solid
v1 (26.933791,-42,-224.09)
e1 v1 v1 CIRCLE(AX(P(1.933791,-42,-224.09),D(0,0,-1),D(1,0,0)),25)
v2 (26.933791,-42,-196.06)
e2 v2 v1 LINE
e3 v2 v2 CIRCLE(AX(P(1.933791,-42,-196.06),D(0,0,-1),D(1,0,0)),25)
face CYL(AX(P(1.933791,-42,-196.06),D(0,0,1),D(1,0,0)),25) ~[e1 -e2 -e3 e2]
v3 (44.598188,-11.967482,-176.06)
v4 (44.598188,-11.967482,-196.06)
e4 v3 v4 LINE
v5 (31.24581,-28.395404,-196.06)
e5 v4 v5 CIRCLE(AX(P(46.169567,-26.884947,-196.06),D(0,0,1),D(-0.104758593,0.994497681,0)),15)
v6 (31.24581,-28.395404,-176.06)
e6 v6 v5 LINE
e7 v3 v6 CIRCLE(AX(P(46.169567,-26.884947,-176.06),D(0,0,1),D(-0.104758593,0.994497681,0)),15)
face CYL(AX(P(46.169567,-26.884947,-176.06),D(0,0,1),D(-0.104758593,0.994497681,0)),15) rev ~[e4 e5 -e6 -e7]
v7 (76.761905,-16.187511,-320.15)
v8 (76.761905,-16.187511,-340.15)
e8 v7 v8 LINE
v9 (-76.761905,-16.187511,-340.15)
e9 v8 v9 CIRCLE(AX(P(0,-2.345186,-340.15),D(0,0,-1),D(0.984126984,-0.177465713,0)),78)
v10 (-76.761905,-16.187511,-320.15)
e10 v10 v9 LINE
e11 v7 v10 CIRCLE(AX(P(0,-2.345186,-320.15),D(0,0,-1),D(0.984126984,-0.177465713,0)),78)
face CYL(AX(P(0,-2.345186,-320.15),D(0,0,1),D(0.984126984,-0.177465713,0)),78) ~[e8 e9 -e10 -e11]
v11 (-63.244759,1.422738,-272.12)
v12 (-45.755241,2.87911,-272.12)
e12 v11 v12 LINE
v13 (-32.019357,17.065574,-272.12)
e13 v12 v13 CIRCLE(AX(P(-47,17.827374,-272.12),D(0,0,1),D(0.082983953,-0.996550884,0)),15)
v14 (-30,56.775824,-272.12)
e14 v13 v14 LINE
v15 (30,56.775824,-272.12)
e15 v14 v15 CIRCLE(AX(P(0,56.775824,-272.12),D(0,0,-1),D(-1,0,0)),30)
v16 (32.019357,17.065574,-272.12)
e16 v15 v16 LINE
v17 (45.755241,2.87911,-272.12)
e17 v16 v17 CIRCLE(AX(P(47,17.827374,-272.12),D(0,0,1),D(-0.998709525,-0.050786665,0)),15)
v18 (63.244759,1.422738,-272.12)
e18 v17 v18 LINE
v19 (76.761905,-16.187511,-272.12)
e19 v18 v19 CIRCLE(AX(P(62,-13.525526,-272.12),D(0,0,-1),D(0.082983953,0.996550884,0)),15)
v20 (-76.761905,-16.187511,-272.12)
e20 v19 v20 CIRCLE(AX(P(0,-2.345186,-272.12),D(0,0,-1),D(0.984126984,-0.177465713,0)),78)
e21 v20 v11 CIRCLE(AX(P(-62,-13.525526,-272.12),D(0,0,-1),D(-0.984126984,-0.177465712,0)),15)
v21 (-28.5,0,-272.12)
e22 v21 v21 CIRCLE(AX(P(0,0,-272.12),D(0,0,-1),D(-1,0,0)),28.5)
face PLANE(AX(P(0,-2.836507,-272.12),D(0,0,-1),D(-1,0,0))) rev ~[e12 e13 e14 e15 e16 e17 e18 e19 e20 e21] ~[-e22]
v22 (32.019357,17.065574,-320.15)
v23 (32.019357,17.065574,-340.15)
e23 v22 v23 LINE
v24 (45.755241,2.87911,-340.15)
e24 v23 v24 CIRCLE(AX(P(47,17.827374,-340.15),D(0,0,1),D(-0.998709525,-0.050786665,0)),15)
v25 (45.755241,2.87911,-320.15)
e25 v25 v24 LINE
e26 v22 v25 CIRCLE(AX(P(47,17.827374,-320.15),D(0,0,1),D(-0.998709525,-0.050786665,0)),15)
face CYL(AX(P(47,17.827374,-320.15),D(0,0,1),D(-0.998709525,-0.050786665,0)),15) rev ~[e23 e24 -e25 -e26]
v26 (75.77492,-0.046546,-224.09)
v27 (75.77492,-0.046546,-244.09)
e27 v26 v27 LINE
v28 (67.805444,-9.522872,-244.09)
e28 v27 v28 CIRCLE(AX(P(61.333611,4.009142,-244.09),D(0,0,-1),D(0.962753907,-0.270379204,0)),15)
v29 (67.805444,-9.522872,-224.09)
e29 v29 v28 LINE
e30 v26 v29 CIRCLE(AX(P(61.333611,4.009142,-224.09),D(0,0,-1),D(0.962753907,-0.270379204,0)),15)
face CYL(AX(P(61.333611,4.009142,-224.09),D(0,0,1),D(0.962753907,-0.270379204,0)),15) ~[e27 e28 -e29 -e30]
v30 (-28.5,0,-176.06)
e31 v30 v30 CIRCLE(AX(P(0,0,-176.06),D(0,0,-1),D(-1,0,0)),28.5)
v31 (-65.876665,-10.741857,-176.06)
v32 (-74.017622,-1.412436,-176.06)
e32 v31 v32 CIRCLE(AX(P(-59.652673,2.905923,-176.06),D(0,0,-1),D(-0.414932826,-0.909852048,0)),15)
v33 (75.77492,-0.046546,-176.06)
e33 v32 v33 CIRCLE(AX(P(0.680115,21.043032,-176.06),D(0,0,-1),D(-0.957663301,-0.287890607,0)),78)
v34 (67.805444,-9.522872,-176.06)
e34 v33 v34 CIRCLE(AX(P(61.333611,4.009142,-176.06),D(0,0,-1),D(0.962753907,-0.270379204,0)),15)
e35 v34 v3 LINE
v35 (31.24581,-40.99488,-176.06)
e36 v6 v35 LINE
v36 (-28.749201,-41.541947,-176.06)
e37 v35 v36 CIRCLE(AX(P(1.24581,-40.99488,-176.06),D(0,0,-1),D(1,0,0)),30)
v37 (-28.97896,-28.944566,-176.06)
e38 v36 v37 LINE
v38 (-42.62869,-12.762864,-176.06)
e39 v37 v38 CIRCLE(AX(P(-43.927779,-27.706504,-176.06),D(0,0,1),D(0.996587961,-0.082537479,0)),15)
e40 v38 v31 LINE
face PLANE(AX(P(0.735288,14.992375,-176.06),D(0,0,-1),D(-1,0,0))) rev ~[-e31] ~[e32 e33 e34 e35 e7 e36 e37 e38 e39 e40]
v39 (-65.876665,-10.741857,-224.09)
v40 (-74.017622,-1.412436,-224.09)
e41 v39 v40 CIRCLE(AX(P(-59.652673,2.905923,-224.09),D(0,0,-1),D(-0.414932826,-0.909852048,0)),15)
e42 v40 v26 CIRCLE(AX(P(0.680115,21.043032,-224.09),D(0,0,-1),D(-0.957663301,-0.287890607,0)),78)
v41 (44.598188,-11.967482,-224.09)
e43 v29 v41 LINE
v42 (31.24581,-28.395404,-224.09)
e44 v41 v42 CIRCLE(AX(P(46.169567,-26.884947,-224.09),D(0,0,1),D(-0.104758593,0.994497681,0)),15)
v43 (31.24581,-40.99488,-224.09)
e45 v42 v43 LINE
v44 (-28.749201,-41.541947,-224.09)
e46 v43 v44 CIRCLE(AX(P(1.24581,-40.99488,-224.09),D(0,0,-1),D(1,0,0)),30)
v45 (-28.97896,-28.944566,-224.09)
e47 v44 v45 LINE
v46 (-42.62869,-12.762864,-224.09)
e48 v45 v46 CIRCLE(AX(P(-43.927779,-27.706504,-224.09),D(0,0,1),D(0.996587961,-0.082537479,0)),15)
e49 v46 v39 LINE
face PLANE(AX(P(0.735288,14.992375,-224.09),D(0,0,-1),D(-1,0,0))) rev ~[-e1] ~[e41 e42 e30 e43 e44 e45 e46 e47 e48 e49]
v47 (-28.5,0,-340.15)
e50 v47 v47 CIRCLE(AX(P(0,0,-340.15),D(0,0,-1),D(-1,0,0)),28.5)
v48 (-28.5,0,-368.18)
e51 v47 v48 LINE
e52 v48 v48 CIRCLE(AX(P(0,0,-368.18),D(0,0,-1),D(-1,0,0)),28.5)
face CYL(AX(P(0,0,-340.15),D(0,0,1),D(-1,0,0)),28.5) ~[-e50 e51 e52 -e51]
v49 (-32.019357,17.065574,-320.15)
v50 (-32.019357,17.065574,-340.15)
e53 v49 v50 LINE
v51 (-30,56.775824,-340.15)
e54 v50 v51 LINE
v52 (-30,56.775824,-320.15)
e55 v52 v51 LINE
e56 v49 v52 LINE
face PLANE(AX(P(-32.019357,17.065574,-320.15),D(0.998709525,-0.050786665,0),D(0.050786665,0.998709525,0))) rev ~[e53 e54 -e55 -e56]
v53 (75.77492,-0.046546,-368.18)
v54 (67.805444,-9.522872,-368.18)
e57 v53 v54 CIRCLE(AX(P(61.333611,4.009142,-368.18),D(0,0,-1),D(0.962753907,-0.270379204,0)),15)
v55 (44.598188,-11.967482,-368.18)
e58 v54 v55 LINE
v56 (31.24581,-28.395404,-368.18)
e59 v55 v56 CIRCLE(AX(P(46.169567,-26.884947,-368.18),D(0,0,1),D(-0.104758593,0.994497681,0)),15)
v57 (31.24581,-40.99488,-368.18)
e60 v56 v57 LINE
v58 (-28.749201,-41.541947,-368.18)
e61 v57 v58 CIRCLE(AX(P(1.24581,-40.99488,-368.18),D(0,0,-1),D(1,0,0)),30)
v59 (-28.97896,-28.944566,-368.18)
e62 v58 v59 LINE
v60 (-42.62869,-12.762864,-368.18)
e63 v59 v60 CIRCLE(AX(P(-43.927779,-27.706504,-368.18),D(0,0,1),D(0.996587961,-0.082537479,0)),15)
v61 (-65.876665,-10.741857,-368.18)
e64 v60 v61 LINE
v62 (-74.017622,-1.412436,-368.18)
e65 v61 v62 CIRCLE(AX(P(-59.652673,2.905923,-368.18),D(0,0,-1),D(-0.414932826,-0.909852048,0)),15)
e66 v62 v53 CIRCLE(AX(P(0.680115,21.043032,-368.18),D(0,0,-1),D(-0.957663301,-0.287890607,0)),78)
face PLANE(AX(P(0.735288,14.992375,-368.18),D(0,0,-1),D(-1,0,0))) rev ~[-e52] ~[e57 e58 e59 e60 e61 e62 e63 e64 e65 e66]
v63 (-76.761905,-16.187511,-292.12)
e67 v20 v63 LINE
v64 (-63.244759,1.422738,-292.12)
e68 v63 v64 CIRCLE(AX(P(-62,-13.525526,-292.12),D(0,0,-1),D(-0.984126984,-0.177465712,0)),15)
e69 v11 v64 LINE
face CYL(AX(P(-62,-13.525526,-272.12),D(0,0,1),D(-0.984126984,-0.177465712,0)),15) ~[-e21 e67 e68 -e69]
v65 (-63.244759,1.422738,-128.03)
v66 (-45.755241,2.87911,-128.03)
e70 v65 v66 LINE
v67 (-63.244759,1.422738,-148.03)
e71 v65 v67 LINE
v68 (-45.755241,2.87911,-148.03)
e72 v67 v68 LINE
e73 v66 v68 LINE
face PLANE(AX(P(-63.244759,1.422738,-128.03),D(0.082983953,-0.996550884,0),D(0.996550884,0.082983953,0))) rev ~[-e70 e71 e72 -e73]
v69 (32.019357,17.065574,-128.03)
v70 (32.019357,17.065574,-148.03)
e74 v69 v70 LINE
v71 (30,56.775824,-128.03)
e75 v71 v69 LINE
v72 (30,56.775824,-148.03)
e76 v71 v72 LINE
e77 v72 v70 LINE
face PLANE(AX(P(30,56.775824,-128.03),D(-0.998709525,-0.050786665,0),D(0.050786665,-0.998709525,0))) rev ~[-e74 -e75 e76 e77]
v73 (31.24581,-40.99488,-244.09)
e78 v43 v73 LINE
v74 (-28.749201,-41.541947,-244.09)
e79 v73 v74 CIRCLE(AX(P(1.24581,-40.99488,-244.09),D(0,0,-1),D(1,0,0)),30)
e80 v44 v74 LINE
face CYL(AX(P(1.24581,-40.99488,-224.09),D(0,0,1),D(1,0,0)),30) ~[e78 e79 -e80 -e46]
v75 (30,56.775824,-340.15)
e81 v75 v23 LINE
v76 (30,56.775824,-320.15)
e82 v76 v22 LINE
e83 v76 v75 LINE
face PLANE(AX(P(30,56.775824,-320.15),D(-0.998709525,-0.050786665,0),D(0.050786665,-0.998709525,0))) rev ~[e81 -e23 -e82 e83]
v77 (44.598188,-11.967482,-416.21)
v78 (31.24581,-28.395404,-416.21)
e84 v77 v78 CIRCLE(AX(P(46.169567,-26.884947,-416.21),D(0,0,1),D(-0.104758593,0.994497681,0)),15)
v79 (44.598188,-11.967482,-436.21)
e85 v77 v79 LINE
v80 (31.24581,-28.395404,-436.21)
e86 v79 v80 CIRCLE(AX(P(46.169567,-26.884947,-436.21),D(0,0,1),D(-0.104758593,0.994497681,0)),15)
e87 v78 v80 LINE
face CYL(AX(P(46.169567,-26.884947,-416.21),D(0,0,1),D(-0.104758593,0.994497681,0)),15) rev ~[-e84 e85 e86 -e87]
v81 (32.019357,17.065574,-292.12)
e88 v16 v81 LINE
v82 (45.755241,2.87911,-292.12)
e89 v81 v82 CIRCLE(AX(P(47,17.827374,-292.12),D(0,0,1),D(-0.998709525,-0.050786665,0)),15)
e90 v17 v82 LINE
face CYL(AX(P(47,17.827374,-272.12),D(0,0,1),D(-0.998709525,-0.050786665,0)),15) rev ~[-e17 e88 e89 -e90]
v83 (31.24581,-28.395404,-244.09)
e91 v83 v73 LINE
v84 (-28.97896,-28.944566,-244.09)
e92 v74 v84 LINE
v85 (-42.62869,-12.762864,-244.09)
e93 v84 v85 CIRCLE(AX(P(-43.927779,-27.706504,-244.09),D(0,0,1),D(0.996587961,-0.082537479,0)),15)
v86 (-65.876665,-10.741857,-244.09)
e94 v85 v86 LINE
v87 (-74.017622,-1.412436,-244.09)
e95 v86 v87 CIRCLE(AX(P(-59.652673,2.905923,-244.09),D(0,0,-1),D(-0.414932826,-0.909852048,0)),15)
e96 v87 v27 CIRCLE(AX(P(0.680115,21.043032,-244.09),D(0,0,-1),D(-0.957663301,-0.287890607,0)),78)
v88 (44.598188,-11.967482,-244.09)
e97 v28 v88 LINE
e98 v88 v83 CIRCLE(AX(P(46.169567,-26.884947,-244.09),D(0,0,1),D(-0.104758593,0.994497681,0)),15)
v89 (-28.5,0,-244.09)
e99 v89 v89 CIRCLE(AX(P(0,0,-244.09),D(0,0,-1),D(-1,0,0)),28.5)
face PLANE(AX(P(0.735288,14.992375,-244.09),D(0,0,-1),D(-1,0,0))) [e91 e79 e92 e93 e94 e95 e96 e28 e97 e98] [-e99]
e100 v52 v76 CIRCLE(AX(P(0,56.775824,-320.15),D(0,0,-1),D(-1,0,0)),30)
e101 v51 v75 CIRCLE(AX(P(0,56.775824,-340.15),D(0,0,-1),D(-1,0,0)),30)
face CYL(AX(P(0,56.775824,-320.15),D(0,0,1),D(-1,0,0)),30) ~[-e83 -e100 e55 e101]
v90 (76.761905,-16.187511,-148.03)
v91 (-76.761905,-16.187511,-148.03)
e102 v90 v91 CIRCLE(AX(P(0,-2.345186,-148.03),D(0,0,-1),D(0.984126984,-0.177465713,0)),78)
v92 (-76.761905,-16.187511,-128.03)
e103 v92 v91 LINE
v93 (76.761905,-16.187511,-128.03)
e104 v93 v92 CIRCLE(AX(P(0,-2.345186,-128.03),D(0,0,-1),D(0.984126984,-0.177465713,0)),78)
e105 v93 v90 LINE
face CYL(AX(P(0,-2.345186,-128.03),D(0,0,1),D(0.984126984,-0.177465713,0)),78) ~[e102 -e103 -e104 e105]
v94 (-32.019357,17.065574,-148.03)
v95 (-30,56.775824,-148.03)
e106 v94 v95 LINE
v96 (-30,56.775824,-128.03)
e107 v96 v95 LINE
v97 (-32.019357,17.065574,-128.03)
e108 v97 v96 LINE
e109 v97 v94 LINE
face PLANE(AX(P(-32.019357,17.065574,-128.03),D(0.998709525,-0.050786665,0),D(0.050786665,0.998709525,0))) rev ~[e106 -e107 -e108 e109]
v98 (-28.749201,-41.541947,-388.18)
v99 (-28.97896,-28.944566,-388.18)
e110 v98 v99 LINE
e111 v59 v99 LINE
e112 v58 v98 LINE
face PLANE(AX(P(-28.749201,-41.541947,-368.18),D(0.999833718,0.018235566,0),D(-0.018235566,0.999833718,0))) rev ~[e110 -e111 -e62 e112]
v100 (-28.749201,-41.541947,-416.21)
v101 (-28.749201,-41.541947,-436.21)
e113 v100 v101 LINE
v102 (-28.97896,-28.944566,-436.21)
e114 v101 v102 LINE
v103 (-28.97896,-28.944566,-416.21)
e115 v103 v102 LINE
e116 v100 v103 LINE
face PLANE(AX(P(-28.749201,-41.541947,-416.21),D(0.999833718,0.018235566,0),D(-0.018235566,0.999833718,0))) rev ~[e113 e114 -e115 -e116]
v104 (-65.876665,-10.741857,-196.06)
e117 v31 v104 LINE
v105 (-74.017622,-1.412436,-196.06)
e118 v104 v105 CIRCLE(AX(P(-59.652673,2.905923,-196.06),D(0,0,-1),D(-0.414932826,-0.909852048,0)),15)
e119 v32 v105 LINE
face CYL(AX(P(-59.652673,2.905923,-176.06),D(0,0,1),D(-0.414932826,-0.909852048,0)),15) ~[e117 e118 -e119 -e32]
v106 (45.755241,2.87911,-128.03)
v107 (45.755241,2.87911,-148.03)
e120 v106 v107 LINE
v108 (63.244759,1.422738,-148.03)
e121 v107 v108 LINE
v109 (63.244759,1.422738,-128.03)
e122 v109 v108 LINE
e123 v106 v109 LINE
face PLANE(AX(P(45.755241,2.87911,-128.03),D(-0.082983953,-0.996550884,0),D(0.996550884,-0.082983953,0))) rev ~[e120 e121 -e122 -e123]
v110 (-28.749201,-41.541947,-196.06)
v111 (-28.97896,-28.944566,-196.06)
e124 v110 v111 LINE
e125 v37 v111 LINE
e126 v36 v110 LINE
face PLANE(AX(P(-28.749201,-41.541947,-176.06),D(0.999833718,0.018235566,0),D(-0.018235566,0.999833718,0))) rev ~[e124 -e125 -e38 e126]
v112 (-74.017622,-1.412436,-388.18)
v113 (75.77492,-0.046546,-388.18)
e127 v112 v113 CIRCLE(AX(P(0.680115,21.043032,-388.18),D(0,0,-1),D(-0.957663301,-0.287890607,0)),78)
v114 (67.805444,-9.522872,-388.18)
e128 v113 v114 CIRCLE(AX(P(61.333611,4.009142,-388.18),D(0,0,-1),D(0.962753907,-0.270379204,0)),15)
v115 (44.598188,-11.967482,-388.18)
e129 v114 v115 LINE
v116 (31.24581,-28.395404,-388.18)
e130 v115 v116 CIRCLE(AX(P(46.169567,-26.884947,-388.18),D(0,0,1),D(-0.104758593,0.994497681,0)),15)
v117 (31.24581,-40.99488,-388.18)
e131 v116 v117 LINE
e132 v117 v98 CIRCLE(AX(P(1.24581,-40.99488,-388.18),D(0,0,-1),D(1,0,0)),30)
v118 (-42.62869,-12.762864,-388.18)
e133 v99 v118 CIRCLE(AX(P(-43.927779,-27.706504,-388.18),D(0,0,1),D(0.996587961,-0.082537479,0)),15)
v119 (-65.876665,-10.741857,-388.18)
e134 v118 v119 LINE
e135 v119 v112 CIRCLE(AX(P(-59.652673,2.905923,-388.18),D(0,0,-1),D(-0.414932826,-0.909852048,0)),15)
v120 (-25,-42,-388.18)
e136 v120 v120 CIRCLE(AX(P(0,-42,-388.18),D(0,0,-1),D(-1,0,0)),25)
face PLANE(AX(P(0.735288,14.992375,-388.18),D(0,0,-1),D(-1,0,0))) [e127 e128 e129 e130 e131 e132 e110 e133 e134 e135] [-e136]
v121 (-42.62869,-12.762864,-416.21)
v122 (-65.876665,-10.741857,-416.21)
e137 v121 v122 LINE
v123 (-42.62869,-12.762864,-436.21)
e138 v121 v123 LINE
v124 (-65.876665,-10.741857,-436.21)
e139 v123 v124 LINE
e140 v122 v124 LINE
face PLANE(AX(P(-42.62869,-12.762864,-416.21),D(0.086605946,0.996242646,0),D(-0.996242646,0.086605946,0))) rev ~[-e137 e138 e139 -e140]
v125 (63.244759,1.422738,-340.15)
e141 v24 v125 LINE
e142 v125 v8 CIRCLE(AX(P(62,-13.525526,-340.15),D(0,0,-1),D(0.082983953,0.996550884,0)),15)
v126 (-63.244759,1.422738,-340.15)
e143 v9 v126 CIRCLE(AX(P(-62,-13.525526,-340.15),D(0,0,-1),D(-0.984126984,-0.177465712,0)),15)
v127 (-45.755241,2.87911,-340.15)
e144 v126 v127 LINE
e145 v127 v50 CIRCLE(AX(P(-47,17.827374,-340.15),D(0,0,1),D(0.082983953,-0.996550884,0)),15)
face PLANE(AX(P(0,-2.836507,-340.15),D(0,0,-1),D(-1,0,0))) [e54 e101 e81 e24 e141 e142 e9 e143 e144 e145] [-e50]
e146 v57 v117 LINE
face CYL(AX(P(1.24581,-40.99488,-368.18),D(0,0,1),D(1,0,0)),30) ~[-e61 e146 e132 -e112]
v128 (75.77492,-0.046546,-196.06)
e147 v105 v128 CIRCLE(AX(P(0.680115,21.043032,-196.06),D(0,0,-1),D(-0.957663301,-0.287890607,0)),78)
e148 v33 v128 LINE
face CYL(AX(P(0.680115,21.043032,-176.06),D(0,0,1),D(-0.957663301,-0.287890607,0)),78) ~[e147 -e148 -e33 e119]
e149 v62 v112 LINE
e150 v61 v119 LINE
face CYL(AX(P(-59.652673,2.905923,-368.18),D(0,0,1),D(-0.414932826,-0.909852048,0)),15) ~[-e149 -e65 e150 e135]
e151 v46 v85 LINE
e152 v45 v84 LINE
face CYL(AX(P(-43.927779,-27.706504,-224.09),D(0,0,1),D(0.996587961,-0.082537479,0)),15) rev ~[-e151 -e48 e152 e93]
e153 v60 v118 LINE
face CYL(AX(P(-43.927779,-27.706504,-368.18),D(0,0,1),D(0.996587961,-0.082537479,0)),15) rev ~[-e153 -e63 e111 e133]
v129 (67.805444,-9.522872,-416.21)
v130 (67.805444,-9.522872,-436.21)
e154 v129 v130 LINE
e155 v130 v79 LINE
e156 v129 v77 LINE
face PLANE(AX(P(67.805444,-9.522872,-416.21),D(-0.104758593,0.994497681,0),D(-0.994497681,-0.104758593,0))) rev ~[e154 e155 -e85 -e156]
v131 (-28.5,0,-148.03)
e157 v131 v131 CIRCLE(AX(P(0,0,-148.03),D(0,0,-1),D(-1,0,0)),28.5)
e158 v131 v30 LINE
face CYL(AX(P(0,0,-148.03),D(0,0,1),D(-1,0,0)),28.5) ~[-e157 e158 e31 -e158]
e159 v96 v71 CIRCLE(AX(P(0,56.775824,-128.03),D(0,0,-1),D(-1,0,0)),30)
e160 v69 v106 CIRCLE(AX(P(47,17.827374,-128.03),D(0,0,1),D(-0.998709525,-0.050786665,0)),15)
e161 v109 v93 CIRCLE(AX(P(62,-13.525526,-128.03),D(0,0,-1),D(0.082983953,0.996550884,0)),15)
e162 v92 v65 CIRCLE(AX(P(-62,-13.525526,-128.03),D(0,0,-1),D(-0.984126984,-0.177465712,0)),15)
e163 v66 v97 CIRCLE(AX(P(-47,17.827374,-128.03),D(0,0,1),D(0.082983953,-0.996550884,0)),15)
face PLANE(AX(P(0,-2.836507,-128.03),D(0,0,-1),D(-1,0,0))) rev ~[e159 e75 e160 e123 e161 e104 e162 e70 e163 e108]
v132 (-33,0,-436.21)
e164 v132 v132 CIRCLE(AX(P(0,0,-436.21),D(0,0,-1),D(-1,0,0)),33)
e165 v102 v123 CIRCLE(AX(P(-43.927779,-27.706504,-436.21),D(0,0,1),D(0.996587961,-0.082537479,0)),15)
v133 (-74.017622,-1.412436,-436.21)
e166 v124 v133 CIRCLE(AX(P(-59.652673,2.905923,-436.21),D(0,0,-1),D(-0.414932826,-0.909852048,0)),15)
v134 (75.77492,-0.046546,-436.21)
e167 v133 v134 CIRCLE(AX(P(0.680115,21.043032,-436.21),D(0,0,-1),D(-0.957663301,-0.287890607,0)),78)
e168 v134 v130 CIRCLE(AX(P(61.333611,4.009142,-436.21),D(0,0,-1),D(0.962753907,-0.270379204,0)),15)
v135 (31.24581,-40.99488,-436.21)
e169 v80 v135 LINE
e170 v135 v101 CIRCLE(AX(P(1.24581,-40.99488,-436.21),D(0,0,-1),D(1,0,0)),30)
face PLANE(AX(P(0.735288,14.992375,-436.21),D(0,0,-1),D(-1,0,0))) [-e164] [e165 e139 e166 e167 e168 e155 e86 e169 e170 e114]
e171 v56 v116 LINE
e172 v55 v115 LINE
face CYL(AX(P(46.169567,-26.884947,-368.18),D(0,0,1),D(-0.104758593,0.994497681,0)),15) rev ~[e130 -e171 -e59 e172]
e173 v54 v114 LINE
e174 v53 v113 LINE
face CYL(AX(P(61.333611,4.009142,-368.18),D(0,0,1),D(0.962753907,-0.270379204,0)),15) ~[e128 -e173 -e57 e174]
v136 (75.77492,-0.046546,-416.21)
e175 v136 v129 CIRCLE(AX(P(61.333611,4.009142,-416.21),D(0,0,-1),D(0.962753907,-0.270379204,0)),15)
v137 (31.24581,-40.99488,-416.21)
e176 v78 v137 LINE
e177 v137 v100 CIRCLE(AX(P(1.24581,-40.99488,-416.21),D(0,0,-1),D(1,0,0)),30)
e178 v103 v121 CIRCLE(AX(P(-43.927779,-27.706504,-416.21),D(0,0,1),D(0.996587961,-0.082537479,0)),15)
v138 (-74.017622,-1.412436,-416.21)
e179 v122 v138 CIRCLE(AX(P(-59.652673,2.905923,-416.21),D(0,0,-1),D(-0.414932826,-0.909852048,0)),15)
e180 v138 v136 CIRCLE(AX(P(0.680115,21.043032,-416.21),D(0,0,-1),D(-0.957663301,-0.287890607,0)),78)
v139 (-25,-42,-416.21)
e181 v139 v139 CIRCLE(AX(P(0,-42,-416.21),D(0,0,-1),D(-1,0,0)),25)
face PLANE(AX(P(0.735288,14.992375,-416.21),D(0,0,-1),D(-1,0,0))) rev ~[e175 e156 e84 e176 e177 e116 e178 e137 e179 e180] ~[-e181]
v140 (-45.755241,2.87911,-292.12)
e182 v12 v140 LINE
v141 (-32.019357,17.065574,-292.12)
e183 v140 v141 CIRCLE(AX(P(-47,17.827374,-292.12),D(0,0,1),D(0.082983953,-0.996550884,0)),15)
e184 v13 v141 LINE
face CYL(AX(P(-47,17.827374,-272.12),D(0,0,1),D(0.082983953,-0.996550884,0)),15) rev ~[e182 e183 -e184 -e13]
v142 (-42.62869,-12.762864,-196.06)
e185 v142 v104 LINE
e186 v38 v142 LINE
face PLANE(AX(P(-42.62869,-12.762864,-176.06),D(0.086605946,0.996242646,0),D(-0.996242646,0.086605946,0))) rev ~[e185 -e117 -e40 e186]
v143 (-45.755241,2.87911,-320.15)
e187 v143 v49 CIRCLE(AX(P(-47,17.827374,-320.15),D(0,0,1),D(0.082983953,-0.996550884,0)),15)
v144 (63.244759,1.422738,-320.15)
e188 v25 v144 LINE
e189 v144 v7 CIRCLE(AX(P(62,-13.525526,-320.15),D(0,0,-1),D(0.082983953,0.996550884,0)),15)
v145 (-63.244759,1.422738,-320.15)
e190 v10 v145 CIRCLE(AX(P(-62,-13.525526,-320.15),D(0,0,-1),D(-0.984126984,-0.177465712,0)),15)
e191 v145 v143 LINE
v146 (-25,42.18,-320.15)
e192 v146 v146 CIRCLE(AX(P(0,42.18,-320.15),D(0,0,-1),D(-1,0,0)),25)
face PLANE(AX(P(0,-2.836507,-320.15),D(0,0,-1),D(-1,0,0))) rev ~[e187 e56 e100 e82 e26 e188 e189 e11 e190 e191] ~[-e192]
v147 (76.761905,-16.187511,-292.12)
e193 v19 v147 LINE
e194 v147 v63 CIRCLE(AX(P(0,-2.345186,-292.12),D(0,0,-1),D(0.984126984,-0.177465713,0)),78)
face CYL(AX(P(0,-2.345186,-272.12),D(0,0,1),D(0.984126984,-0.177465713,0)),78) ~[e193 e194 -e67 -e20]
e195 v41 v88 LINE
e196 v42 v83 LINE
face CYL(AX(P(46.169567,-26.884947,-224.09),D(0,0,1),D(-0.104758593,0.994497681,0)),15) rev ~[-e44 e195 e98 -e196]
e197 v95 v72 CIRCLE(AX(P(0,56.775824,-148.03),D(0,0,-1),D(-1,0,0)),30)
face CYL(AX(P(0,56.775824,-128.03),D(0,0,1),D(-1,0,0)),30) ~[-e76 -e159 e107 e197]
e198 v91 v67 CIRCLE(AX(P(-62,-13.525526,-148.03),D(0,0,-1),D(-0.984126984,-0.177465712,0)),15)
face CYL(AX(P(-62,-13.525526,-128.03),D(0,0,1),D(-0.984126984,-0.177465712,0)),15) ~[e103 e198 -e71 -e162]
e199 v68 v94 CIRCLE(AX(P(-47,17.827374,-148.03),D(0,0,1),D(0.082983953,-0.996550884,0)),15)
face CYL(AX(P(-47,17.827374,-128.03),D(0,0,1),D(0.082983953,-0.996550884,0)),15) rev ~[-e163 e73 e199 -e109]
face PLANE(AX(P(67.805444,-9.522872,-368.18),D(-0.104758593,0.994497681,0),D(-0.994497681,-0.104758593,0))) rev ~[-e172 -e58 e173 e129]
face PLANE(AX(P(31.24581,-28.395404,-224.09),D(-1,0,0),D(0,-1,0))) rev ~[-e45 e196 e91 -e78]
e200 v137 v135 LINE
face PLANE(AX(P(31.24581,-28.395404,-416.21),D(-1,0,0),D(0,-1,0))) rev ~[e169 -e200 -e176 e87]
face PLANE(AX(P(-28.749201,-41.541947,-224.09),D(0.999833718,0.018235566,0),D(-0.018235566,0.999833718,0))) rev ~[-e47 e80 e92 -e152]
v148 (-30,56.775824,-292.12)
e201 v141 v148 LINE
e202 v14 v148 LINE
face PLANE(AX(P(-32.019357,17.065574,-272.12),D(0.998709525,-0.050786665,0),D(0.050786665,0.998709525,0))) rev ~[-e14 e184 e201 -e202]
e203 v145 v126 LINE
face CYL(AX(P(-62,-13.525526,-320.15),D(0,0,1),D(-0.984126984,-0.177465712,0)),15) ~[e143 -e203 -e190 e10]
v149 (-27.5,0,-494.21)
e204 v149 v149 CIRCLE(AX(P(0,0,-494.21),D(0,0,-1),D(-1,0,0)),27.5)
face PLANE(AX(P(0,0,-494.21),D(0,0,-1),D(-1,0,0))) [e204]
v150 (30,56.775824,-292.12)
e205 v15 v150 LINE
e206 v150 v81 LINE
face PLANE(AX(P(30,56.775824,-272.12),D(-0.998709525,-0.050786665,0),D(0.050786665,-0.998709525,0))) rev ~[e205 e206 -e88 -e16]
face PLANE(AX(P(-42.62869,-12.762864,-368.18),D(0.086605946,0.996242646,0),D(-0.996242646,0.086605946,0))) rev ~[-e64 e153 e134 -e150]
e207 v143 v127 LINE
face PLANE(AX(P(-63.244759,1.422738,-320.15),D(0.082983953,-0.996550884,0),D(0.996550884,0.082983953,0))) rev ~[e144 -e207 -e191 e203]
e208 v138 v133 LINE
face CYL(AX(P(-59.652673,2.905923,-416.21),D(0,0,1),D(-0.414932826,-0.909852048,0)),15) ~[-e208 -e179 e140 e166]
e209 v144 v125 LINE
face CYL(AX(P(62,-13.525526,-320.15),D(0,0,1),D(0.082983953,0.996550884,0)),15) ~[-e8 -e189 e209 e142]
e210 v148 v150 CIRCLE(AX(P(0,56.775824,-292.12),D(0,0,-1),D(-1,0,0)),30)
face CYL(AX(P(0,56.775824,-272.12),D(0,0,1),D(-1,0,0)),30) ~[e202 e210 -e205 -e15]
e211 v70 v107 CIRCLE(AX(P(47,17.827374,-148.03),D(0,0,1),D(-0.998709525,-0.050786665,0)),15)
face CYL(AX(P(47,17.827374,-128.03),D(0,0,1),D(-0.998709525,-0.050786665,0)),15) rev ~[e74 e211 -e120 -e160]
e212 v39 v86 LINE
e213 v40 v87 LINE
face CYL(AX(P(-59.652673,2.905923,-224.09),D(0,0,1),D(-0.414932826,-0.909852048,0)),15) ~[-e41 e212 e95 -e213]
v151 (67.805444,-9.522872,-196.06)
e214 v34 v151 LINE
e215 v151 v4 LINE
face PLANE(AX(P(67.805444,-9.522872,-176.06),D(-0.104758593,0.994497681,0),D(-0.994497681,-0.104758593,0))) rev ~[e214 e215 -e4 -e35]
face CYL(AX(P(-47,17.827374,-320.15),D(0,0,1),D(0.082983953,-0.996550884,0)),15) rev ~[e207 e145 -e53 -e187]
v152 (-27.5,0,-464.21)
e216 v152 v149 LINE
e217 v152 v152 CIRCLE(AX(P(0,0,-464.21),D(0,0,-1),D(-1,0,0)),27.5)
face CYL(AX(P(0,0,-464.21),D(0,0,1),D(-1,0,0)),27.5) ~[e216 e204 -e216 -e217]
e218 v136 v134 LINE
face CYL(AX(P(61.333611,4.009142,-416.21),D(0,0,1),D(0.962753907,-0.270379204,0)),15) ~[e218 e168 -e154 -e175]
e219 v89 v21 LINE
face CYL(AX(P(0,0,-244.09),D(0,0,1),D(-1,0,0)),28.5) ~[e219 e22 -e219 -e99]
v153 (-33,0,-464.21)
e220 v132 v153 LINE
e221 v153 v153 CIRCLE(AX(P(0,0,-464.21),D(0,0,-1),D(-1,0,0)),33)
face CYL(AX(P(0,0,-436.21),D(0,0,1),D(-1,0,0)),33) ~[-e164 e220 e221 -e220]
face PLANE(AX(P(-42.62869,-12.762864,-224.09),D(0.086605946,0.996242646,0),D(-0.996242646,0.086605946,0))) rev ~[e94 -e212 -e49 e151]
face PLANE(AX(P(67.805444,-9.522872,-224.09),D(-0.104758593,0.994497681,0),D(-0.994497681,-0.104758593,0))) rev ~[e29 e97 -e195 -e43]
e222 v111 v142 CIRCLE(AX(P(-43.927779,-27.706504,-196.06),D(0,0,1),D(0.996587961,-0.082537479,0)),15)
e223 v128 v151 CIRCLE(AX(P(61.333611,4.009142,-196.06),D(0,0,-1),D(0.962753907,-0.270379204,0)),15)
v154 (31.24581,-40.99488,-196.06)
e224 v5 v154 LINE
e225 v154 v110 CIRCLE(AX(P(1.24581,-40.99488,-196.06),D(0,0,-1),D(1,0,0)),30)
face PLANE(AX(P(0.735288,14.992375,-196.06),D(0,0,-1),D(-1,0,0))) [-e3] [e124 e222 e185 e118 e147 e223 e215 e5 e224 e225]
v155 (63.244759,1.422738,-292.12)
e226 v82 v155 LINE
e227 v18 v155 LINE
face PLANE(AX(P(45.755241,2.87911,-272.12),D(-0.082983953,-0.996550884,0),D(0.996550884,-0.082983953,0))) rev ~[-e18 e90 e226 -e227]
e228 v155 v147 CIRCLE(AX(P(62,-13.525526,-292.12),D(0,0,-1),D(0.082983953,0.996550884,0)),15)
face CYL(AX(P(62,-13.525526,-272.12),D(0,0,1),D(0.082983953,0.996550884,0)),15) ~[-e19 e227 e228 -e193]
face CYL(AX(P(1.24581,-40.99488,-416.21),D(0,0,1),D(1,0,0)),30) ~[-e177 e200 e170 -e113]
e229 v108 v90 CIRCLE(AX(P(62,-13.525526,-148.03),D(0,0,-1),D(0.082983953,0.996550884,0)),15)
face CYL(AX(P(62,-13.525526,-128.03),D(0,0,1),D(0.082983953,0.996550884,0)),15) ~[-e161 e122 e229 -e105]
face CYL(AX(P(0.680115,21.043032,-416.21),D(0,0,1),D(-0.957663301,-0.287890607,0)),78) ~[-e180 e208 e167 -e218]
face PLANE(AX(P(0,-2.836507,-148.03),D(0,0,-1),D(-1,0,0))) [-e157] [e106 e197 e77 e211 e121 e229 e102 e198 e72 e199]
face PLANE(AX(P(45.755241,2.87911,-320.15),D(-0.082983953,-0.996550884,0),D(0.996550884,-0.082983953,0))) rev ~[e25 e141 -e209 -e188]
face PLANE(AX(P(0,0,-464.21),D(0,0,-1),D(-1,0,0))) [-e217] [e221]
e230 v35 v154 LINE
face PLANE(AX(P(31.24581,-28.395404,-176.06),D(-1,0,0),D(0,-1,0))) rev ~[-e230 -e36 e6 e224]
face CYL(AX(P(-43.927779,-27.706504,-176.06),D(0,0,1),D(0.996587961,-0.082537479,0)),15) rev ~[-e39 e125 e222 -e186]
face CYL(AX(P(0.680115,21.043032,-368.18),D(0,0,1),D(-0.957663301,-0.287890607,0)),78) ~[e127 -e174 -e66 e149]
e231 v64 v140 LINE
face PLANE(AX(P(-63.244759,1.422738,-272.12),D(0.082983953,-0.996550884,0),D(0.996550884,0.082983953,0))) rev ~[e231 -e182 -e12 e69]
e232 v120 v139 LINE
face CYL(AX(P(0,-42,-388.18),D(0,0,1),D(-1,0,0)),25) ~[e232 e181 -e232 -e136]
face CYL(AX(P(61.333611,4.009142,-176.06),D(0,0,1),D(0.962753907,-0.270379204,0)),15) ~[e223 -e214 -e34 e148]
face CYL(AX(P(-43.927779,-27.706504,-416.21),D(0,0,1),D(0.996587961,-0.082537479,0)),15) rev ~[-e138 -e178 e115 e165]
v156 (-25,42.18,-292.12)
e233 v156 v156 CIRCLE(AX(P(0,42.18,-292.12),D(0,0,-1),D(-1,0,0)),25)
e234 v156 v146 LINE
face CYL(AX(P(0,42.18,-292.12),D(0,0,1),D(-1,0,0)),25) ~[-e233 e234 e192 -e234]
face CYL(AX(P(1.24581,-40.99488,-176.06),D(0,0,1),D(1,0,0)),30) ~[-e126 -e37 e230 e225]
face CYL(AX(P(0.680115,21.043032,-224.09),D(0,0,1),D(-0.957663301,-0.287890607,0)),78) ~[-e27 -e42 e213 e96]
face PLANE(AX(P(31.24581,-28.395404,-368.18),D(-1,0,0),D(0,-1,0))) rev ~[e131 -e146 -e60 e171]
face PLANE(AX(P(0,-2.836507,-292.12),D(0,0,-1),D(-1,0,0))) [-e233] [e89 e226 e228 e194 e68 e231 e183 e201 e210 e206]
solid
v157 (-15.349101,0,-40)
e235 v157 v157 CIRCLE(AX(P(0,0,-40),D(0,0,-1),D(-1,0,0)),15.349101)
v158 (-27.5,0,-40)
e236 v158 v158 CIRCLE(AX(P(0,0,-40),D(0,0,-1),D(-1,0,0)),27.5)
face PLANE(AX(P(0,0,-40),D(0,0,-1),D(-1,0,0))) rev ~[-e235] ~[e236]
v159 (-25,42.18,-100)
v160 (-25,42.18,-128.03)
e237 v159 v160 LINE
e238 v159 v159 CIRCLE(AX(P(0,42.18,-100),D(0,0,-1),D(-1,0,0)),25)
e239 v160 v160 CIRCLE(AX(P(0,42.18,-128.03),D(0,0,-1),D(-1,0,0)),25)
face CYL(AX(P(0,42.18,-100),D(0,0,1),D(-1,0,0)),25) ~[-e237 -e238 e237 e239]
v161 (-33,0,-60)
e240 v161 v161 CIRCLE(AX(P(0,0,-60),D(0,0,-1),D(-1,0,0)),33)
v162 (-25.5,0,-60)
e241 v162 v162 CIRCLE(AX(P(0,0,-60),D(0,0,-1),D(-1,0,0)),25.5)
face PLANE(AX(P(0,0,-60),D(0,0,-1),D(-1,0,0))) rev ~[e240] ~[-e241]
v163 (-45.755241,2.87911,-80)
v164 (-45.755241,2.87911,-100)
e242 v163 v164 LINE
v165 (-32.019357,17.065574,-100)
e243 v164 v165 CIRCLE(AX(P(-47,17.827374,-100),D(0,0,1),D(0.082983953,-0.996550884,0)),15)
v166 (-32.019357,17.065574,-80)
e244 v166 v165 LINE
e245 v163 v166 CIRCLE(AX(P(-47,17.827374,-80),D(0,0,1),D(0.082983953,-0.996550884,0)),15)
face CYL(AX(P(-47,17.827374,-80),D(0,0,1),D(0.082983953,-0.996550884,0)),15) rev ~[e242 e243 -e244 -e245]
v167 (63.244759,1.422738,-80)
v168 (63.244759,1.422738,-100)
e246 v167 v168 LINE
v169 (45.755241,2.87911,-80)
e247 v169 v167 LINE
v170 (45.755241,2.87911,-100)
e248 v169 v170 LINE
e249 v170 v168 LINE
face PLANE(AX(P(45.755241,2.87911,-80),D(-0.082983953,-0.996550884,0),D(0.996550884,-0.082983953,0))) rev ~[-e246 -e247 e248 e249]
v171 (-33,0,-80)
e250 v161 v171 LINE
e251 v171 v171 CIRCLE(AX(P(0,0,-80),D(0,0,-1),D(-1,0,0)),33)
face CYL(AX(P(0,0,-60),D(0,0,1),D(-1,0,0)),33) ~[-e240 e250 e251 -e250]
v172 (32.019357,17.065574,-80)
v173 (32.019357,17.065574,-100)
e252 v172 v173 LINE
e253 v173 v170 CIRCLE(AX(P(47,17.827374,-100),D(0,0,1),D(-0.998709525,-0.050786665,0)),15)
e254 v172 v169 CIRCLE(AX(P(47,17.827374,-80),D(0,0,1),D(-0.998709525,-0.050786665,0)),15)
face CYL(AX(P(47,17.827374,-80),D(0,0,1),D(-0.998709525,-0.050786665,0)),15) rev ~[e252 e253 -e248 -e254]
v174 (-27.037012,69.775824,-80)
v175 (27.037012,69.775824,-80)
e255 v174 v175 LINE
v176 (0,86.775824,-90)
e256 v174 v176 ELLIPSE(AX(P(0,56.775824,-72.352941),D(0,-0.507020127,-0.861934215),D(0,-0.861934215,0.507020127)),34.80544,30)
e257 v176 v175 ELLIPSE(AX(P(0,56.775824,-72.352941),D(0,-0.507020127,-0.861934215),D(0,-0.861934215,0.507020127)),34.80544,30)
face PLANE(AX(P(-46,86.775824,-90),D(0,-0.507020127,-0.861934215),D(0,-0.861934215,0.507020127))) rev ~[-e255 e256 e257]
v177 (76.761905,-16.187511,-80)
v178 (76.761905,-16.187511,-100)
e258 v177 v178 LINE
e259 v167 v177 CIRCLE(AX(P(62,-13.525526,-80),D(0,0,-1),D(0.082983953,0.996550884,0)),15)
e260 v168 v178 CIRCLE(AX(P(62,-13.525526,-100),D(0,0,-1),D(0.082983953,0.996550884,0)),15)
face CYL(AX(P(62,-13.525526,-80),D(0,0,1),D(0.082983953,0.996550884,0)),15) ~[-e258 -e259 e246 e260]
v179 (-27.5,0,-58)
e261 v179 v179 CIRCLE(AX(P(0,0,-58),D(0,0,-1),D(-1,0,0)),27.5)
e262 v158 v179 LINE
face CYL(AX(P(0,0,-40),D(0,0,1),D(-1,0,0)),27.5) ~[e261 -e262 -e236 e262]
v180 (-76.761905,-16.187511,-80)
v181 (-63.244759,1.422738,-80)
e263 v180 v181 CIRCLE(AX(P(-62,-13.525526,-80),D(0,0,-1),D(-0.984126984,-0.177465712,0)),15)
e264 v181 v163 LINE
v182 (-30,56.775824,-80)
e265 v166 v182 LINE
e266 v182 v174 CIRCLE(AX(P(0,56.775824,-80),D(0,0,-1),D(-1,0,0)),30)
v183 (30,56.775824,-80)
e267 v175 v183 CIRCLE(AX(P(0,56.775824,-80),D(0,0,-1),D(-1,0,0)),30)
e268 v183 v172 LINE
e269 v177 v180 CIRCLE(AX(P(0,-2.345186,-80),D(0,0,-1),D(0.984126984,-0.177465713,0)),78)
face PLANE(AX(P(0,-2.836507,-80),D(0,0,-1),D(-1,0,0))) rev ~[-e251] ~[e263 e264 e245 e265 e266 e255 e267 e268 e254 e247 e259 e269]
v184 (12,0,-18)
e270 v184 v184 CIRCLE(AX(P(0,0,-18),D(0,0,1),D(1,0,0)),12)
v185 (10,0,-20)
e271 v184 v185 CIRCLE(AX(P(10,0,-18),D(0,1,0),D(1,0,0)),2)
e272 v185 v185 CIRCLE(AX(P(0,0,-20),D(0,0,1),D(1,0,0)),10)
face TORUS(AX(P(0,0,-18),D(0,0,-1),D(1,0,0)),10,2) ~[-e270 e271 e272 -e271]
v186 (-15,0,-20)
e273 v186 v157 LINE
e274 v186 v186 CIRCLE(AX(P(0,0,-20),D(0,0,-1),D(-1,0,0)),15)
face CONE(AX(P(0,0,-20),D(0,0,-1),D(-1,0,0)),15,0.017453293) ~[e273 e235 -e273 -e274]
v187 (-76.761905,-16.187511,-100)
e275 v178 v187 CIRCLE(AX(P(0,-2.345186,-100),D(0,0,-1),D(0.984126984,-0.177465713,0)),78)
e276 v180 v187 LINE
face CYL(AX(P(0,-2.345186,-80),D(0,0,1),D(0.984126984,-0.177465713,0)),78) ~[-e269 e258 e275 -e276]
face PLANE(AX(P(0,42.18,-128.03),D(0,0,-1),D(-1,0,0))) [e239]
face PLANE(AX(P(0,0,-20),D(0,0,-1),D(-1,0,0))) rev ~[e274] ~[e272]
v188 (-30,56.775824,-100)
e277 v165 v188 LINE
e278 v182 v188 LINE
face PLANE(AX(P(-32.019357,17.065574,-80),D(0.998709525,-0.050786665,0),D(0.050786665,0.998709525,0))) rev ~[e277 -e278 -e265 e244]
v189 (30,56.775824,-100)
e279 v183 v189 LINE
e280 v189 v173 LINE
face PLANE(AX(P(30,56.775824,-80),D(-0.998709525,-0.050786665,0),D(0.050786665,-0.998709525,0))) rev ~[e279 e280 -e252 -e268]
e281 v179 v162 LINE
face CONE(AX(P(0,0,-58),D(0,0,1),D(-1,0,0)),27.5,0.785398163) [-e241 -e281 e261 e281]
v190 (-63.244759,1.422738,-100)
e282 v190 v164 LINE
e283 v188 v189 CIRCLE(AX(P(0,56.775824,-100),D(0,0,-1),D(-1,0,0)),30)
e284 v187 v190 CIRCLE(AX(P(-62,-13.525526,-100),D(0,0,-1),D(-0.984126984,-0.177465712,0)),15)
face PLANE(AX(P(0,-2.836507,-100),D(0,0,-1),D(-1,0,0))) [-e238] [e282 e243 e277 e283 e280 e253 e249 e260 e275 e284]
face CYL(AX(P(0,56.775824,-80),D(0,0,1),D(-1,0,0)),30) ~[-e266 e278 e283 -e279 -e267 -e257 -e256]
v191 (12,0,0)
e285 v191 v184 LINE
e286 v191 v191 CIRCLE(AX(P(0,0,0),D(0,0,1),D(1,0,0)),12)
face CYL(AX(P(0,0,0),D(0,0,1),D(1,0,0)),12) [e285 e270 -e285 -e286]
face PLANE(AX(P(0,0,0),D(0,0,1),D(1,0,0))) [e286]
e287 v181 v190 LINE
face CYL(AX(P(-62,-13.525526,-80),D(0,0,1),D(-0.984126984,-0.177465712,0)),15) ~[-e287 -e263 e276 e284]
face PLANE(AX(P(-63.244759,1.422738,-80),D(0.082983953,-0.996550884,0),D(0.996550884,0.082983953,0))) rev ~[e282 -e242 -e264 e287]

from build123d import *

# Parameters (mm, degrees)
SKETCH1_R               = 12
BOSS_EXTRUDE1_DEPTH     = 20
FILLET1_R               = 2
SKETCH2_R               = 15
BOSS_EXTRUDE2_DEPTH     = 20
BOSS_EXTRUDE2_DRAFT     = -1
SKETCH3_R               = 27.5
BOSS_EXTRUDE3_DEPTH     = 20
CHAMFER1_SIZE           = 2
SKETCH4_R               = 33
BOSS_EXTRUDE4_DEPTH     = 20
BOSS_EXTRUDE5_DEPTH     = 20
CUT_EXTRUDE2_DEPTH      = 81
CUT_EXTRUDE2_DEPTH_BACK = 46
SKETCH7_R               = 25
BOSS_EXTRUDE6_DEPTH     = 28.03
BOSS_EXTRUDE7_DEPTH     = 20
SKETCH9_R               = 28.5
BOSS_EXTRUDE8_DEPTH     = 28.03
BOSS_EXTRUDE9_DEPTH     = 20
SKETCH12_R              = 25
BOSS_EXTRUDE10_DEPTH    = 28.03
BOSS_EXTRUDE11_DEPTH    = 20
SKETCH14_R              = 28.5
BOSS_EXTRUDE12_DEPTH    = 28.03
BOSS_EXTRUDE13_DEPTH    = 20
SKETCH16_R              = 25
BOSS_EXTRUDE14_DEPTH    = 28.03
BOSS_EXTRUDE15_DEPTH    = 20
SKETCH18_R              = 28.5
BOSS_EXTRUDE16_DEPTH    = 28.03
BOSS_EXTRUDE17_DEPTH    = 20
SKETCH20_R              = 25
BOSS_EXTRUDE18_DEPTH    = 28.03
BOSS_EXTRUDE19_DEPTH    = 20
SKETCH22_R              = 33
BOSS_EXTRUDE20_DEPTH    = 28
SKETCH23_R              = 27.5
BOSS_EXTRUDE21_DEPTH    = 30


with BuildPart() as part:
    # Sketch1 → Boss-Extrude1 (new body)
    with BuildSketch(Plane.XY):
        Circle(SKETCH1_R)
    extrude(amount=-BOSS_EXTRUDE1_DEPTH)

    # Fillet1
    fillet1_edges = [part.edges().sort_by_distance(p)[0] for p in [
        (-12, 0, -20),
    ]]
    fillet(fillet1_edges, radius=FILLET1_R)


with BuildPart() as boss_extrude2_tool:
    # Sketch2 → Boss-Extrude2 (with draft: the straight prism first)
    with BuildSketch(Plane(origin=(0, 0, -20), x_dir=(-1, 0, 0), z_dir=(0, 0, -1))):
        Circle(SKETCH2_R)
    extrude(amount=BOSS_EXTRUDE2_DEPTH)
    # Boss-Extrude2: the draft: its side faces are tilted about the plane it starts from
    boss_extrude2_sides = [boss_extrude2_tool.faces().sort_by_distance(p)[0] for p in [
        (15, 0, -30),
    ]]
    draft(boss_extrude2_sides, Plane(origin=(0, 0, -20), x_dir=(-1, 0, 0), z_dir=(0, 0, -1)), BOSS_EXTRUDE2_DRAFT)


with BuildPart() as part_1:
    add(part.part)

    # Boss-Extrude2: add boss_extrude2_tool
    add(boss_extrude2_tool.part)

    # Sketch3 → Boss-Extrude3 (add)
    with BuildSketch(Plane(origin=(0, 0, -40), x_dir=(-1, 0, 0), z_dir=(0, 0, -1))):
        Circle(SKETCH3_R)
    extrude(amount=BOSS_EXTRUDE3_DEPTH)

    # Chamfer1
    chamfer1_edges = [part_1.edges().sort_by_distance(p)[0] for p in [
        (27.5, 0, -60),
    ]]
    chamfer(chamfer1_edges, length=CHAMFER1_SIZE)

    # Sketch4 → Boss-Extrude4 (add)
    with BuildSketch(Plane(origin=(0, 0, -60), x_dir=(-1, 0, 0), z_dir=(0, 0, -1))):
        Circle(SKETCH4_R)
    extrude(amount=BOSS_EXTRUDE4_DEPTH)

    # Sketch5 → Boss-Extrude5 (add)
    with BuildSketch(Plane(origin=(0, 0, -80), x_dir=(-1, 0, 0), z_dir=(0, 0, -1))):
        with BuildLine():
            Line((-30, 56.775824047), (-32.01935713, 17.065573544))
            ThreePointArc((-32.01935713, 17.065573544), (-36.223643753, 7.393287744), (-45.755240699, 2.87911027))
            Line((-45.755240699, 2.87911027), (-63.244759301, 1.422737675))
            ThreePointArc((-63.244759301, 1.422737675), (-73.898888206, -4.392264416), (-76.761904762, -16.187511266))
            ThreePointArc((-76.761904762, -16.187511266), (0, -80.345185691), (76.761904762, -16.187511266))
            ThreePointArc((76.761904762, -16.187511266), (73.898888206, -4.392264416), (63.244759301, 1.422737675))
            Line((63.244759301, 1.422737675), (45.755240699, 2.87911027))
            ThreePointArc((45.755240699, 2.87911027), (36.223643753, 7.393287744), (32.01935713, 17.065573544))
            Line((32.01935713, 17.065573544), (30, 56.775824047))
            ThreePointArc((30, 56.775824047), (0, 86.775824047), (-30, 56.775824047))
        make_face()
    extrude(amount=BOSS_EXTRUDE5_DEPTH)

    # Sketch6 → Cut-Extrude2 (cut, two sides: drawn at the far end of the back side and taken through both)
    with BuildSketch(Plane(origin=(0, 0, 0), x_dir=(0, 0, -1), z_dir=(1, 0, 0)).offset(-CUT_EXTRUDE2_DEPTH_BACK)):
        Polygon((90, 86.775824047), (80, 69.775824047), (80, 86.775824047), align=None)
    extrude(amount=CUT_EXTRUDE2_DEPTH + CUT_EXTRUDE2_DEPTH_BACK, mode=Mode.SUBTRACT)

    # Sketch7 → Boss-Extrude6 (add)
    with BuildSketch(Plane(origin=(0, 0, -100), x_dir=(-1, 0, 0), z_dir=(0, 0, -1))):
        with Locations((0, 42.18)):
            Circle(SKETCH7_R)
    extrude(amount=BOSS_EXTRUDE6_DEPTH)


with BuildPart() as body_2:
    # Sketch8 → Boss-Extrude7 (new body)
    with BuildSketch(Plane(origin=(0, 0, -128.03), x_dir=(-1, 0, 0), z_dir=(0, 0, -1))):
        with BuildLine():
            Line((-30, 56.775824047), (-32.01935713, 17.065573544))
            ThreePointArc((-32.01935713, 17.065573544), (-36.223643753, 7.393287744), (-45.755240699, 2.87911027))
            Line((-45.755240699, 2.87911027), (-63.244759301, 1.422737675))
            ThreePointArc((-63.244759301, 1.422737675), (-73.898888206, -4.392264416), (-76.761904762, -16.187511266))
            ThreePointArc((-76.761904762, -16.187511266), (0, -80.345185691), (76.761904762, -16.187511266))
            ThreePointArc((76.761904762, -16.187511266), (73.898888206, -4.392264416), (63.244759301, 1.422737675))
            Line((63.244759301, 1.422737675), (45.755240699, 2.87911027))
            ThreePointArc((45.755240699, 2.87911027), (36.223643753, 7.393287744), (32.01935713, 17.065573544))
            Line((32.01935713, 17.065573544), (30, 56.775824047))
            ThreePointArc((30, 56.775824047), (0, 86.775824047), (-30, 56.775824047))
        make_face()
    extrude(amount=BOSS_EXTRUDE7_DEPTH)

    # Sketch9 → Boss-Extrude8 (add)
    with BuildSketch(Plane(origin=(0, 0, -148.03), x_dir=(-1, 0, 0), z_dir=(0, 0, -1))):
        Circle(SKETCH9_R)
    extrude(amount=BOSS_EXTRUDE8_DEPTH)

    # Sketch11 → Boss-Extrude9 (add)
    with BuildSketch(Plane(origin=(0, 0, -176.06), x_dir=(-1, 0, 0), z_dir=(0, 0, -1))):
        with BuildLine():
            Line((-31.245810287, -28.395403668), (-31.245810287, -40.994880292))
            ThreePointArc((-31.245810287, -40.994880292), (-1.519355146, -70.993633153), (28.74920126, -41.541947267))
            Line((28.74920126, -41.541947267), (28.978959845, -28.944565706))
            ThreePointArc((28.978959845, -28.944565706), (32.462156631, -18.034921566), (42.62869008, -12.762863833))
            Line((42.62869008, -12.762863833), (65.876665322, -10.741857315))
            ThreePointArc((65.876665322, -10.741857315), (70.954693066, -6.956345135), (74.017622446, -1.412435698))
            ThreePointArc((74.017622446, -1.412435698), (0.031101592, 99.039789098), (-75.774919811, -0.046546255))
            ThreePointArc((-75.774919811, -0.046546255), (-72.813596065, -5.645388091), (-67.805443661, -9.522871519))
            Line((-67.805443661, -9.522871519), (-44.598188331, -11.967481963))
            ThreePointArc((-44.598188331, -11.967481963), (-34.529484347, -17.424055539), (-31.245810287, -28.395403668))
        make_face()
    extrude(amount=BOSS_EXTRUDE9_DEPTH)

    # Sketch12 → Boss-Extrude10 (add)
    with BuildSketch(Plane(origin=(0, 0, -196.06), x_dir=(-1, 0, 0), z_dir=(0, 0, -1))):
        with Locations(Location((-1.933791065, -42, 0), (0, 0, 180))):
            Circle(SKETCH12_R)
    extrude(amount=BOSS_EXTRUDE10_DEPTH)

    # Sketch13 → Boss-Extrude11 (add)
    with BuildSketch(Plane(origin=(0, 0, -224.09), x_dir=(-1, 0, 0), z_dir=(0, 0, -1))):
        with BuildLine():
            Line((-31.245810287, -28.395403668), (-31.245810287, -40.994880292))
            ThreePointArc((-31.245810287, -40.994880292), (-1.519355146, -70.993633153), (28.74920126, -41.541947267))
            Line((28.74920126, -41.541947267), (28.978959845, -28.944565706))
            ThreePointArc((28.978959845, -28.944565706), (32.462156631, -18.034921566), (42.62869008, -12.762863833))
            Line((42.62869008, -12.762863833), (65.876665322, -10.741857315))
            ThreePointArc((65.876665322, -10.741857315), (70.954693066, -6.956345135), (74.017622446, -1.412435698))
            ThreePointArc((74.017622446, -1.412435698), (0.031101592, 99.039789098), (-75.774919811, -0.046546255))
            ThreePointArc((-75.774919811, -0.046546255), (-72.813596065, -5.645388091), (-67.805443661, -9.522871519))
            Line((-67.805443661, -9.522871519), (-44.598188331, -11.967481963))
            ThreePointArc((-44.598188331, -11.967481963), (-34.529484347, -17.424055539), (-31.245810287, -28.395403668))
        make_face()
    extrude(amount=BOSS_EXTRUDE11_DEPTH)

    # Sketch14 → Boss-Extrude12 (add)
    with BuildSketch(Plane(origin=(0, 0, -244.09), x_dir=(-1, 0, 0), z_dir=(0, 0, -1))):
        Circle(SKETCH14_R)
    extrude(amount=BOSS_EXTRUDE12_DEPTH)

    # Sketch15 → Boss-Extrude13 (add)
    with BuildSketch(Plane(origin=(0, 0, -272.12), x_dir=(-1, 0, 0), z_dir=(0, 0, -1))):
        with BuildLine():
            Line((63.244759301, 1.422737675), (45.755240699, 2.87911027))
            ThreePointArc((45.755240699, 2.87911027), (36.223643753, 7.393287744), (32.01935713, 17.065573544))
            Line((32.01935713, 17.065573544), (30, 56.775824047))
            ThreePointArc((30, 56.775824047), (0, 86.775824047), (-30, 56.775824047))
            Line((-30, 56.775824047), (-32.01935713, 17.065573544))
            ThreePointArc((-32.01935713, 17.065573544), (-36.223643753, 7.393287744), (-45.755240699, 2.87911027))
            Line((-45.755240699, 2.87911027), (-63.244759301, 1.422737675))
            ThreePointArc((-63.244759301, 1.422737675), (-73.898888206, -4.392264416), (-76.761904762, -16.187511266))
            ThreePointArc((-76.761904762, -16.187511266), (0, -80.345185691), (76.761904762, -16.187511266))
            ThreePointArc((76.761904762, -16.187511266), (73.898888206, -4.392264416), (63.244759301, 1.422737675))
        make_face()
    extrude(amount=BOSS_EXTRUDE13_DEPTH)

    # Sketch16 → Boss-Extrude14 (add)
    with BuildSketch(Plane(origin=(0, 0, -292.12), x_dir=(-1, 0, 0), z_dir=(0, 0, -1))):
        with Locations((0, 42.18)):
            Circle(SKETCH16_R)
    extrude(amount=BOSS_EXTRUDE14_DEPTH)

    # Sketch17 → Boss-Extrude15 (add)
    with BuildSketch(Plane(origin=(0, 0, -320.15), x_dir=(-1, 0, 0), z_dir=(0, 0, -1))):
        with BuildLine():
            Line((63.244759301, 1.422737675), (45.755240699, 2.87911027))
            ThreePointArc((45.755240699, 2.87911027), (36.223643753, 7.393287744), (32.01935713, 17.065573544))
            Line((32.01935713, 17.065573544), (30, 56.775824047))
            ThreePointArc((30, 56.775824047), (0, 86.775824047), (-30, 56.775824047))
            Line((-30, 56.775824047), (-32.01935713, 17.065573544))
            ThreePointArc((-32.01935713, 17.065573544), (-36.223643753, 7.393287744), (-45.755240699, 2.87911027))
            Line((-45.755240699, 2.87911027), (-63.244759301, 1.422737675))
            ThreePointArc((-63.244759301, 1.422737675), (-73.898888206, -4.392264416), (-76.761904762, -16.187511266))
            ThreePointArc((-76.761904762, -16.187511266), (0, -80.345185691), (76.761904762, -16.187511266))
            ThreePointArc((76.761904762, -16.187511266), (73.898888206, -4.392264416), (63.244759301, 1.422737675))
        make_face()
    extrude(amount=BOSS_EXTRUDE15_DEPTH)

    # Sketch18 → Boss-Extrude16 (add)
    with BuildSketch(Plane(origin=(0, 0, -340.15), x_dir=(-1, 0, 0), z_dir=(0, 0, -1))):
        Circle(SKETCH18_R)
    extrude(amount=BOSS_EXTRUDE16_DEPTH)

    # Sketch19 → Boss-Extrude17 (add)
    with BuildSketch(Plane(origin=(0, 0, -368.18), x_dir=(-1, 0, 0), z_dir=(0, 0, -1))):
        with BuildLine():
            Line((-31.245810287, -28.395403668), (-31.245810287, -40.994880292))
            ThreePointArc((-31.245810287, -40.994880292), (-1.519355146, -70.993633153), (28.74920126, -41.541947267))
            Line((28.74920126, -41.541947267), (28.978959845, -28.944565706))
            ThreePointArc((28.978959845, -28.944565706), (32.462156631, -18.034921566), (42.62869008, -12.762863833))
            Line((42.62869008, -12.762863833), (65.876665322, -10.741857315))
            ThreePointArc((65.876665322, -10.741857315), (70.954693066, -6.956345135), (74.017622446, -1.412435698))
            ThreePointArc((74.017622446, -1.412435698), (0.031101592, 99.039789098), (-75.774919811, -0.046546255))
            ThreePointArc((-75.774919811, -0.046546255), (-72.813596065, -5.645388091), (-67.805443661, -9.522871519))
            Line((-67.805443661, -9.522871519), (-44.598188331, -11.967481963))
            ThreePointArc((-44.598188331, -11.967481963), (-34.529484347, -17.424055539), (-31.245810287, -28.395403668))
        make_face()
    extrude(amount=BOSS_EXTRUDE17_DEPTH)

    # Sketch20 → Boss-Extrude18 (add)
    with BuildSketch(Plane(origin=(0, 0, -388.18), x_dir=(-1, 0, 0), z_dir=(0, 0, -1))):
        with Locations((0, -42)):
            Circle(SKETCH20_R)
    extrude(amount=BOSS_EXTRUDE18_DEPTH)

    # Sketch21 → Boss-Extrude19 (add)
    with BuildSketch(Plane(origin=(0, 0, -416.21), x_dir=(-1, 0, 0), z_dir=(0, 0, -1))):
        with BuildLine():
            Line((-31.245810287, -28.395403668), (-31.245810287, -40.994880292))
            ThreePointArc((-31.245810287, -40.994880292), (-1.519355146, -70.993633153), (28.74920126, -41.541947267))
            Line((28.74920126, -41.541947267), (28.978959845, -28.944565706))
            ThreePointArc((28.978959845, -28.944565706), (32.462156631, -18.034921566), (42.62869008, -12.762863833))
            Line((42.62869008, -12.762863833), (65.876665322, -10.741857315))
            ThreePointArc((65.876665322, -10.741857315), (70.954693066, -6.956345135), (74.017622446, -1.412435698))
            ThreePointArc((74.017622446, -1.412435698), (0.031101592, 99.039789098), (-75.774919811, -0.046546255))
            ThreePointArc((-75.774919811, -0.046546255), (-72.813596065, -5.645388091), (-67.805443661, -9.522871519))
            Line((-67.805443661, -9.522871519), (-44.598188331, -11.967481963))
            ThreePointArc((-44.598188331, -11.967481963), (-34.529484347, -17.424055539), (-31.245810287, -28.395403668))
        make_face()
    extrude(amount=BOSS_EXTRUDE19_DEPTH)

    # Sketch22 → Boss-Extrude20 (add)
    with BuildSketch(Plane(origin=(0, 0, -436.21), x_dir=(-1, 0, 0), z_dir=(0, 0, -1))):
        Circle(SKETCH22_R)
    extrude(amount=BOSS_EXTRUDE20_DEPTH)

    # Sketch23 → Boss-Extrude21 (add)
    with BuildSketch(Plane(origin=(0, 0, -464.21), x_dir=(-1, 0, 0), z_dir=(0, 0, -1))):
        Circle(SKETCH23_R)
    extrude(amount=BOSS_EXTRUDE21_DEPTH)


solid = Compound([part_1.part, body_2.part])
